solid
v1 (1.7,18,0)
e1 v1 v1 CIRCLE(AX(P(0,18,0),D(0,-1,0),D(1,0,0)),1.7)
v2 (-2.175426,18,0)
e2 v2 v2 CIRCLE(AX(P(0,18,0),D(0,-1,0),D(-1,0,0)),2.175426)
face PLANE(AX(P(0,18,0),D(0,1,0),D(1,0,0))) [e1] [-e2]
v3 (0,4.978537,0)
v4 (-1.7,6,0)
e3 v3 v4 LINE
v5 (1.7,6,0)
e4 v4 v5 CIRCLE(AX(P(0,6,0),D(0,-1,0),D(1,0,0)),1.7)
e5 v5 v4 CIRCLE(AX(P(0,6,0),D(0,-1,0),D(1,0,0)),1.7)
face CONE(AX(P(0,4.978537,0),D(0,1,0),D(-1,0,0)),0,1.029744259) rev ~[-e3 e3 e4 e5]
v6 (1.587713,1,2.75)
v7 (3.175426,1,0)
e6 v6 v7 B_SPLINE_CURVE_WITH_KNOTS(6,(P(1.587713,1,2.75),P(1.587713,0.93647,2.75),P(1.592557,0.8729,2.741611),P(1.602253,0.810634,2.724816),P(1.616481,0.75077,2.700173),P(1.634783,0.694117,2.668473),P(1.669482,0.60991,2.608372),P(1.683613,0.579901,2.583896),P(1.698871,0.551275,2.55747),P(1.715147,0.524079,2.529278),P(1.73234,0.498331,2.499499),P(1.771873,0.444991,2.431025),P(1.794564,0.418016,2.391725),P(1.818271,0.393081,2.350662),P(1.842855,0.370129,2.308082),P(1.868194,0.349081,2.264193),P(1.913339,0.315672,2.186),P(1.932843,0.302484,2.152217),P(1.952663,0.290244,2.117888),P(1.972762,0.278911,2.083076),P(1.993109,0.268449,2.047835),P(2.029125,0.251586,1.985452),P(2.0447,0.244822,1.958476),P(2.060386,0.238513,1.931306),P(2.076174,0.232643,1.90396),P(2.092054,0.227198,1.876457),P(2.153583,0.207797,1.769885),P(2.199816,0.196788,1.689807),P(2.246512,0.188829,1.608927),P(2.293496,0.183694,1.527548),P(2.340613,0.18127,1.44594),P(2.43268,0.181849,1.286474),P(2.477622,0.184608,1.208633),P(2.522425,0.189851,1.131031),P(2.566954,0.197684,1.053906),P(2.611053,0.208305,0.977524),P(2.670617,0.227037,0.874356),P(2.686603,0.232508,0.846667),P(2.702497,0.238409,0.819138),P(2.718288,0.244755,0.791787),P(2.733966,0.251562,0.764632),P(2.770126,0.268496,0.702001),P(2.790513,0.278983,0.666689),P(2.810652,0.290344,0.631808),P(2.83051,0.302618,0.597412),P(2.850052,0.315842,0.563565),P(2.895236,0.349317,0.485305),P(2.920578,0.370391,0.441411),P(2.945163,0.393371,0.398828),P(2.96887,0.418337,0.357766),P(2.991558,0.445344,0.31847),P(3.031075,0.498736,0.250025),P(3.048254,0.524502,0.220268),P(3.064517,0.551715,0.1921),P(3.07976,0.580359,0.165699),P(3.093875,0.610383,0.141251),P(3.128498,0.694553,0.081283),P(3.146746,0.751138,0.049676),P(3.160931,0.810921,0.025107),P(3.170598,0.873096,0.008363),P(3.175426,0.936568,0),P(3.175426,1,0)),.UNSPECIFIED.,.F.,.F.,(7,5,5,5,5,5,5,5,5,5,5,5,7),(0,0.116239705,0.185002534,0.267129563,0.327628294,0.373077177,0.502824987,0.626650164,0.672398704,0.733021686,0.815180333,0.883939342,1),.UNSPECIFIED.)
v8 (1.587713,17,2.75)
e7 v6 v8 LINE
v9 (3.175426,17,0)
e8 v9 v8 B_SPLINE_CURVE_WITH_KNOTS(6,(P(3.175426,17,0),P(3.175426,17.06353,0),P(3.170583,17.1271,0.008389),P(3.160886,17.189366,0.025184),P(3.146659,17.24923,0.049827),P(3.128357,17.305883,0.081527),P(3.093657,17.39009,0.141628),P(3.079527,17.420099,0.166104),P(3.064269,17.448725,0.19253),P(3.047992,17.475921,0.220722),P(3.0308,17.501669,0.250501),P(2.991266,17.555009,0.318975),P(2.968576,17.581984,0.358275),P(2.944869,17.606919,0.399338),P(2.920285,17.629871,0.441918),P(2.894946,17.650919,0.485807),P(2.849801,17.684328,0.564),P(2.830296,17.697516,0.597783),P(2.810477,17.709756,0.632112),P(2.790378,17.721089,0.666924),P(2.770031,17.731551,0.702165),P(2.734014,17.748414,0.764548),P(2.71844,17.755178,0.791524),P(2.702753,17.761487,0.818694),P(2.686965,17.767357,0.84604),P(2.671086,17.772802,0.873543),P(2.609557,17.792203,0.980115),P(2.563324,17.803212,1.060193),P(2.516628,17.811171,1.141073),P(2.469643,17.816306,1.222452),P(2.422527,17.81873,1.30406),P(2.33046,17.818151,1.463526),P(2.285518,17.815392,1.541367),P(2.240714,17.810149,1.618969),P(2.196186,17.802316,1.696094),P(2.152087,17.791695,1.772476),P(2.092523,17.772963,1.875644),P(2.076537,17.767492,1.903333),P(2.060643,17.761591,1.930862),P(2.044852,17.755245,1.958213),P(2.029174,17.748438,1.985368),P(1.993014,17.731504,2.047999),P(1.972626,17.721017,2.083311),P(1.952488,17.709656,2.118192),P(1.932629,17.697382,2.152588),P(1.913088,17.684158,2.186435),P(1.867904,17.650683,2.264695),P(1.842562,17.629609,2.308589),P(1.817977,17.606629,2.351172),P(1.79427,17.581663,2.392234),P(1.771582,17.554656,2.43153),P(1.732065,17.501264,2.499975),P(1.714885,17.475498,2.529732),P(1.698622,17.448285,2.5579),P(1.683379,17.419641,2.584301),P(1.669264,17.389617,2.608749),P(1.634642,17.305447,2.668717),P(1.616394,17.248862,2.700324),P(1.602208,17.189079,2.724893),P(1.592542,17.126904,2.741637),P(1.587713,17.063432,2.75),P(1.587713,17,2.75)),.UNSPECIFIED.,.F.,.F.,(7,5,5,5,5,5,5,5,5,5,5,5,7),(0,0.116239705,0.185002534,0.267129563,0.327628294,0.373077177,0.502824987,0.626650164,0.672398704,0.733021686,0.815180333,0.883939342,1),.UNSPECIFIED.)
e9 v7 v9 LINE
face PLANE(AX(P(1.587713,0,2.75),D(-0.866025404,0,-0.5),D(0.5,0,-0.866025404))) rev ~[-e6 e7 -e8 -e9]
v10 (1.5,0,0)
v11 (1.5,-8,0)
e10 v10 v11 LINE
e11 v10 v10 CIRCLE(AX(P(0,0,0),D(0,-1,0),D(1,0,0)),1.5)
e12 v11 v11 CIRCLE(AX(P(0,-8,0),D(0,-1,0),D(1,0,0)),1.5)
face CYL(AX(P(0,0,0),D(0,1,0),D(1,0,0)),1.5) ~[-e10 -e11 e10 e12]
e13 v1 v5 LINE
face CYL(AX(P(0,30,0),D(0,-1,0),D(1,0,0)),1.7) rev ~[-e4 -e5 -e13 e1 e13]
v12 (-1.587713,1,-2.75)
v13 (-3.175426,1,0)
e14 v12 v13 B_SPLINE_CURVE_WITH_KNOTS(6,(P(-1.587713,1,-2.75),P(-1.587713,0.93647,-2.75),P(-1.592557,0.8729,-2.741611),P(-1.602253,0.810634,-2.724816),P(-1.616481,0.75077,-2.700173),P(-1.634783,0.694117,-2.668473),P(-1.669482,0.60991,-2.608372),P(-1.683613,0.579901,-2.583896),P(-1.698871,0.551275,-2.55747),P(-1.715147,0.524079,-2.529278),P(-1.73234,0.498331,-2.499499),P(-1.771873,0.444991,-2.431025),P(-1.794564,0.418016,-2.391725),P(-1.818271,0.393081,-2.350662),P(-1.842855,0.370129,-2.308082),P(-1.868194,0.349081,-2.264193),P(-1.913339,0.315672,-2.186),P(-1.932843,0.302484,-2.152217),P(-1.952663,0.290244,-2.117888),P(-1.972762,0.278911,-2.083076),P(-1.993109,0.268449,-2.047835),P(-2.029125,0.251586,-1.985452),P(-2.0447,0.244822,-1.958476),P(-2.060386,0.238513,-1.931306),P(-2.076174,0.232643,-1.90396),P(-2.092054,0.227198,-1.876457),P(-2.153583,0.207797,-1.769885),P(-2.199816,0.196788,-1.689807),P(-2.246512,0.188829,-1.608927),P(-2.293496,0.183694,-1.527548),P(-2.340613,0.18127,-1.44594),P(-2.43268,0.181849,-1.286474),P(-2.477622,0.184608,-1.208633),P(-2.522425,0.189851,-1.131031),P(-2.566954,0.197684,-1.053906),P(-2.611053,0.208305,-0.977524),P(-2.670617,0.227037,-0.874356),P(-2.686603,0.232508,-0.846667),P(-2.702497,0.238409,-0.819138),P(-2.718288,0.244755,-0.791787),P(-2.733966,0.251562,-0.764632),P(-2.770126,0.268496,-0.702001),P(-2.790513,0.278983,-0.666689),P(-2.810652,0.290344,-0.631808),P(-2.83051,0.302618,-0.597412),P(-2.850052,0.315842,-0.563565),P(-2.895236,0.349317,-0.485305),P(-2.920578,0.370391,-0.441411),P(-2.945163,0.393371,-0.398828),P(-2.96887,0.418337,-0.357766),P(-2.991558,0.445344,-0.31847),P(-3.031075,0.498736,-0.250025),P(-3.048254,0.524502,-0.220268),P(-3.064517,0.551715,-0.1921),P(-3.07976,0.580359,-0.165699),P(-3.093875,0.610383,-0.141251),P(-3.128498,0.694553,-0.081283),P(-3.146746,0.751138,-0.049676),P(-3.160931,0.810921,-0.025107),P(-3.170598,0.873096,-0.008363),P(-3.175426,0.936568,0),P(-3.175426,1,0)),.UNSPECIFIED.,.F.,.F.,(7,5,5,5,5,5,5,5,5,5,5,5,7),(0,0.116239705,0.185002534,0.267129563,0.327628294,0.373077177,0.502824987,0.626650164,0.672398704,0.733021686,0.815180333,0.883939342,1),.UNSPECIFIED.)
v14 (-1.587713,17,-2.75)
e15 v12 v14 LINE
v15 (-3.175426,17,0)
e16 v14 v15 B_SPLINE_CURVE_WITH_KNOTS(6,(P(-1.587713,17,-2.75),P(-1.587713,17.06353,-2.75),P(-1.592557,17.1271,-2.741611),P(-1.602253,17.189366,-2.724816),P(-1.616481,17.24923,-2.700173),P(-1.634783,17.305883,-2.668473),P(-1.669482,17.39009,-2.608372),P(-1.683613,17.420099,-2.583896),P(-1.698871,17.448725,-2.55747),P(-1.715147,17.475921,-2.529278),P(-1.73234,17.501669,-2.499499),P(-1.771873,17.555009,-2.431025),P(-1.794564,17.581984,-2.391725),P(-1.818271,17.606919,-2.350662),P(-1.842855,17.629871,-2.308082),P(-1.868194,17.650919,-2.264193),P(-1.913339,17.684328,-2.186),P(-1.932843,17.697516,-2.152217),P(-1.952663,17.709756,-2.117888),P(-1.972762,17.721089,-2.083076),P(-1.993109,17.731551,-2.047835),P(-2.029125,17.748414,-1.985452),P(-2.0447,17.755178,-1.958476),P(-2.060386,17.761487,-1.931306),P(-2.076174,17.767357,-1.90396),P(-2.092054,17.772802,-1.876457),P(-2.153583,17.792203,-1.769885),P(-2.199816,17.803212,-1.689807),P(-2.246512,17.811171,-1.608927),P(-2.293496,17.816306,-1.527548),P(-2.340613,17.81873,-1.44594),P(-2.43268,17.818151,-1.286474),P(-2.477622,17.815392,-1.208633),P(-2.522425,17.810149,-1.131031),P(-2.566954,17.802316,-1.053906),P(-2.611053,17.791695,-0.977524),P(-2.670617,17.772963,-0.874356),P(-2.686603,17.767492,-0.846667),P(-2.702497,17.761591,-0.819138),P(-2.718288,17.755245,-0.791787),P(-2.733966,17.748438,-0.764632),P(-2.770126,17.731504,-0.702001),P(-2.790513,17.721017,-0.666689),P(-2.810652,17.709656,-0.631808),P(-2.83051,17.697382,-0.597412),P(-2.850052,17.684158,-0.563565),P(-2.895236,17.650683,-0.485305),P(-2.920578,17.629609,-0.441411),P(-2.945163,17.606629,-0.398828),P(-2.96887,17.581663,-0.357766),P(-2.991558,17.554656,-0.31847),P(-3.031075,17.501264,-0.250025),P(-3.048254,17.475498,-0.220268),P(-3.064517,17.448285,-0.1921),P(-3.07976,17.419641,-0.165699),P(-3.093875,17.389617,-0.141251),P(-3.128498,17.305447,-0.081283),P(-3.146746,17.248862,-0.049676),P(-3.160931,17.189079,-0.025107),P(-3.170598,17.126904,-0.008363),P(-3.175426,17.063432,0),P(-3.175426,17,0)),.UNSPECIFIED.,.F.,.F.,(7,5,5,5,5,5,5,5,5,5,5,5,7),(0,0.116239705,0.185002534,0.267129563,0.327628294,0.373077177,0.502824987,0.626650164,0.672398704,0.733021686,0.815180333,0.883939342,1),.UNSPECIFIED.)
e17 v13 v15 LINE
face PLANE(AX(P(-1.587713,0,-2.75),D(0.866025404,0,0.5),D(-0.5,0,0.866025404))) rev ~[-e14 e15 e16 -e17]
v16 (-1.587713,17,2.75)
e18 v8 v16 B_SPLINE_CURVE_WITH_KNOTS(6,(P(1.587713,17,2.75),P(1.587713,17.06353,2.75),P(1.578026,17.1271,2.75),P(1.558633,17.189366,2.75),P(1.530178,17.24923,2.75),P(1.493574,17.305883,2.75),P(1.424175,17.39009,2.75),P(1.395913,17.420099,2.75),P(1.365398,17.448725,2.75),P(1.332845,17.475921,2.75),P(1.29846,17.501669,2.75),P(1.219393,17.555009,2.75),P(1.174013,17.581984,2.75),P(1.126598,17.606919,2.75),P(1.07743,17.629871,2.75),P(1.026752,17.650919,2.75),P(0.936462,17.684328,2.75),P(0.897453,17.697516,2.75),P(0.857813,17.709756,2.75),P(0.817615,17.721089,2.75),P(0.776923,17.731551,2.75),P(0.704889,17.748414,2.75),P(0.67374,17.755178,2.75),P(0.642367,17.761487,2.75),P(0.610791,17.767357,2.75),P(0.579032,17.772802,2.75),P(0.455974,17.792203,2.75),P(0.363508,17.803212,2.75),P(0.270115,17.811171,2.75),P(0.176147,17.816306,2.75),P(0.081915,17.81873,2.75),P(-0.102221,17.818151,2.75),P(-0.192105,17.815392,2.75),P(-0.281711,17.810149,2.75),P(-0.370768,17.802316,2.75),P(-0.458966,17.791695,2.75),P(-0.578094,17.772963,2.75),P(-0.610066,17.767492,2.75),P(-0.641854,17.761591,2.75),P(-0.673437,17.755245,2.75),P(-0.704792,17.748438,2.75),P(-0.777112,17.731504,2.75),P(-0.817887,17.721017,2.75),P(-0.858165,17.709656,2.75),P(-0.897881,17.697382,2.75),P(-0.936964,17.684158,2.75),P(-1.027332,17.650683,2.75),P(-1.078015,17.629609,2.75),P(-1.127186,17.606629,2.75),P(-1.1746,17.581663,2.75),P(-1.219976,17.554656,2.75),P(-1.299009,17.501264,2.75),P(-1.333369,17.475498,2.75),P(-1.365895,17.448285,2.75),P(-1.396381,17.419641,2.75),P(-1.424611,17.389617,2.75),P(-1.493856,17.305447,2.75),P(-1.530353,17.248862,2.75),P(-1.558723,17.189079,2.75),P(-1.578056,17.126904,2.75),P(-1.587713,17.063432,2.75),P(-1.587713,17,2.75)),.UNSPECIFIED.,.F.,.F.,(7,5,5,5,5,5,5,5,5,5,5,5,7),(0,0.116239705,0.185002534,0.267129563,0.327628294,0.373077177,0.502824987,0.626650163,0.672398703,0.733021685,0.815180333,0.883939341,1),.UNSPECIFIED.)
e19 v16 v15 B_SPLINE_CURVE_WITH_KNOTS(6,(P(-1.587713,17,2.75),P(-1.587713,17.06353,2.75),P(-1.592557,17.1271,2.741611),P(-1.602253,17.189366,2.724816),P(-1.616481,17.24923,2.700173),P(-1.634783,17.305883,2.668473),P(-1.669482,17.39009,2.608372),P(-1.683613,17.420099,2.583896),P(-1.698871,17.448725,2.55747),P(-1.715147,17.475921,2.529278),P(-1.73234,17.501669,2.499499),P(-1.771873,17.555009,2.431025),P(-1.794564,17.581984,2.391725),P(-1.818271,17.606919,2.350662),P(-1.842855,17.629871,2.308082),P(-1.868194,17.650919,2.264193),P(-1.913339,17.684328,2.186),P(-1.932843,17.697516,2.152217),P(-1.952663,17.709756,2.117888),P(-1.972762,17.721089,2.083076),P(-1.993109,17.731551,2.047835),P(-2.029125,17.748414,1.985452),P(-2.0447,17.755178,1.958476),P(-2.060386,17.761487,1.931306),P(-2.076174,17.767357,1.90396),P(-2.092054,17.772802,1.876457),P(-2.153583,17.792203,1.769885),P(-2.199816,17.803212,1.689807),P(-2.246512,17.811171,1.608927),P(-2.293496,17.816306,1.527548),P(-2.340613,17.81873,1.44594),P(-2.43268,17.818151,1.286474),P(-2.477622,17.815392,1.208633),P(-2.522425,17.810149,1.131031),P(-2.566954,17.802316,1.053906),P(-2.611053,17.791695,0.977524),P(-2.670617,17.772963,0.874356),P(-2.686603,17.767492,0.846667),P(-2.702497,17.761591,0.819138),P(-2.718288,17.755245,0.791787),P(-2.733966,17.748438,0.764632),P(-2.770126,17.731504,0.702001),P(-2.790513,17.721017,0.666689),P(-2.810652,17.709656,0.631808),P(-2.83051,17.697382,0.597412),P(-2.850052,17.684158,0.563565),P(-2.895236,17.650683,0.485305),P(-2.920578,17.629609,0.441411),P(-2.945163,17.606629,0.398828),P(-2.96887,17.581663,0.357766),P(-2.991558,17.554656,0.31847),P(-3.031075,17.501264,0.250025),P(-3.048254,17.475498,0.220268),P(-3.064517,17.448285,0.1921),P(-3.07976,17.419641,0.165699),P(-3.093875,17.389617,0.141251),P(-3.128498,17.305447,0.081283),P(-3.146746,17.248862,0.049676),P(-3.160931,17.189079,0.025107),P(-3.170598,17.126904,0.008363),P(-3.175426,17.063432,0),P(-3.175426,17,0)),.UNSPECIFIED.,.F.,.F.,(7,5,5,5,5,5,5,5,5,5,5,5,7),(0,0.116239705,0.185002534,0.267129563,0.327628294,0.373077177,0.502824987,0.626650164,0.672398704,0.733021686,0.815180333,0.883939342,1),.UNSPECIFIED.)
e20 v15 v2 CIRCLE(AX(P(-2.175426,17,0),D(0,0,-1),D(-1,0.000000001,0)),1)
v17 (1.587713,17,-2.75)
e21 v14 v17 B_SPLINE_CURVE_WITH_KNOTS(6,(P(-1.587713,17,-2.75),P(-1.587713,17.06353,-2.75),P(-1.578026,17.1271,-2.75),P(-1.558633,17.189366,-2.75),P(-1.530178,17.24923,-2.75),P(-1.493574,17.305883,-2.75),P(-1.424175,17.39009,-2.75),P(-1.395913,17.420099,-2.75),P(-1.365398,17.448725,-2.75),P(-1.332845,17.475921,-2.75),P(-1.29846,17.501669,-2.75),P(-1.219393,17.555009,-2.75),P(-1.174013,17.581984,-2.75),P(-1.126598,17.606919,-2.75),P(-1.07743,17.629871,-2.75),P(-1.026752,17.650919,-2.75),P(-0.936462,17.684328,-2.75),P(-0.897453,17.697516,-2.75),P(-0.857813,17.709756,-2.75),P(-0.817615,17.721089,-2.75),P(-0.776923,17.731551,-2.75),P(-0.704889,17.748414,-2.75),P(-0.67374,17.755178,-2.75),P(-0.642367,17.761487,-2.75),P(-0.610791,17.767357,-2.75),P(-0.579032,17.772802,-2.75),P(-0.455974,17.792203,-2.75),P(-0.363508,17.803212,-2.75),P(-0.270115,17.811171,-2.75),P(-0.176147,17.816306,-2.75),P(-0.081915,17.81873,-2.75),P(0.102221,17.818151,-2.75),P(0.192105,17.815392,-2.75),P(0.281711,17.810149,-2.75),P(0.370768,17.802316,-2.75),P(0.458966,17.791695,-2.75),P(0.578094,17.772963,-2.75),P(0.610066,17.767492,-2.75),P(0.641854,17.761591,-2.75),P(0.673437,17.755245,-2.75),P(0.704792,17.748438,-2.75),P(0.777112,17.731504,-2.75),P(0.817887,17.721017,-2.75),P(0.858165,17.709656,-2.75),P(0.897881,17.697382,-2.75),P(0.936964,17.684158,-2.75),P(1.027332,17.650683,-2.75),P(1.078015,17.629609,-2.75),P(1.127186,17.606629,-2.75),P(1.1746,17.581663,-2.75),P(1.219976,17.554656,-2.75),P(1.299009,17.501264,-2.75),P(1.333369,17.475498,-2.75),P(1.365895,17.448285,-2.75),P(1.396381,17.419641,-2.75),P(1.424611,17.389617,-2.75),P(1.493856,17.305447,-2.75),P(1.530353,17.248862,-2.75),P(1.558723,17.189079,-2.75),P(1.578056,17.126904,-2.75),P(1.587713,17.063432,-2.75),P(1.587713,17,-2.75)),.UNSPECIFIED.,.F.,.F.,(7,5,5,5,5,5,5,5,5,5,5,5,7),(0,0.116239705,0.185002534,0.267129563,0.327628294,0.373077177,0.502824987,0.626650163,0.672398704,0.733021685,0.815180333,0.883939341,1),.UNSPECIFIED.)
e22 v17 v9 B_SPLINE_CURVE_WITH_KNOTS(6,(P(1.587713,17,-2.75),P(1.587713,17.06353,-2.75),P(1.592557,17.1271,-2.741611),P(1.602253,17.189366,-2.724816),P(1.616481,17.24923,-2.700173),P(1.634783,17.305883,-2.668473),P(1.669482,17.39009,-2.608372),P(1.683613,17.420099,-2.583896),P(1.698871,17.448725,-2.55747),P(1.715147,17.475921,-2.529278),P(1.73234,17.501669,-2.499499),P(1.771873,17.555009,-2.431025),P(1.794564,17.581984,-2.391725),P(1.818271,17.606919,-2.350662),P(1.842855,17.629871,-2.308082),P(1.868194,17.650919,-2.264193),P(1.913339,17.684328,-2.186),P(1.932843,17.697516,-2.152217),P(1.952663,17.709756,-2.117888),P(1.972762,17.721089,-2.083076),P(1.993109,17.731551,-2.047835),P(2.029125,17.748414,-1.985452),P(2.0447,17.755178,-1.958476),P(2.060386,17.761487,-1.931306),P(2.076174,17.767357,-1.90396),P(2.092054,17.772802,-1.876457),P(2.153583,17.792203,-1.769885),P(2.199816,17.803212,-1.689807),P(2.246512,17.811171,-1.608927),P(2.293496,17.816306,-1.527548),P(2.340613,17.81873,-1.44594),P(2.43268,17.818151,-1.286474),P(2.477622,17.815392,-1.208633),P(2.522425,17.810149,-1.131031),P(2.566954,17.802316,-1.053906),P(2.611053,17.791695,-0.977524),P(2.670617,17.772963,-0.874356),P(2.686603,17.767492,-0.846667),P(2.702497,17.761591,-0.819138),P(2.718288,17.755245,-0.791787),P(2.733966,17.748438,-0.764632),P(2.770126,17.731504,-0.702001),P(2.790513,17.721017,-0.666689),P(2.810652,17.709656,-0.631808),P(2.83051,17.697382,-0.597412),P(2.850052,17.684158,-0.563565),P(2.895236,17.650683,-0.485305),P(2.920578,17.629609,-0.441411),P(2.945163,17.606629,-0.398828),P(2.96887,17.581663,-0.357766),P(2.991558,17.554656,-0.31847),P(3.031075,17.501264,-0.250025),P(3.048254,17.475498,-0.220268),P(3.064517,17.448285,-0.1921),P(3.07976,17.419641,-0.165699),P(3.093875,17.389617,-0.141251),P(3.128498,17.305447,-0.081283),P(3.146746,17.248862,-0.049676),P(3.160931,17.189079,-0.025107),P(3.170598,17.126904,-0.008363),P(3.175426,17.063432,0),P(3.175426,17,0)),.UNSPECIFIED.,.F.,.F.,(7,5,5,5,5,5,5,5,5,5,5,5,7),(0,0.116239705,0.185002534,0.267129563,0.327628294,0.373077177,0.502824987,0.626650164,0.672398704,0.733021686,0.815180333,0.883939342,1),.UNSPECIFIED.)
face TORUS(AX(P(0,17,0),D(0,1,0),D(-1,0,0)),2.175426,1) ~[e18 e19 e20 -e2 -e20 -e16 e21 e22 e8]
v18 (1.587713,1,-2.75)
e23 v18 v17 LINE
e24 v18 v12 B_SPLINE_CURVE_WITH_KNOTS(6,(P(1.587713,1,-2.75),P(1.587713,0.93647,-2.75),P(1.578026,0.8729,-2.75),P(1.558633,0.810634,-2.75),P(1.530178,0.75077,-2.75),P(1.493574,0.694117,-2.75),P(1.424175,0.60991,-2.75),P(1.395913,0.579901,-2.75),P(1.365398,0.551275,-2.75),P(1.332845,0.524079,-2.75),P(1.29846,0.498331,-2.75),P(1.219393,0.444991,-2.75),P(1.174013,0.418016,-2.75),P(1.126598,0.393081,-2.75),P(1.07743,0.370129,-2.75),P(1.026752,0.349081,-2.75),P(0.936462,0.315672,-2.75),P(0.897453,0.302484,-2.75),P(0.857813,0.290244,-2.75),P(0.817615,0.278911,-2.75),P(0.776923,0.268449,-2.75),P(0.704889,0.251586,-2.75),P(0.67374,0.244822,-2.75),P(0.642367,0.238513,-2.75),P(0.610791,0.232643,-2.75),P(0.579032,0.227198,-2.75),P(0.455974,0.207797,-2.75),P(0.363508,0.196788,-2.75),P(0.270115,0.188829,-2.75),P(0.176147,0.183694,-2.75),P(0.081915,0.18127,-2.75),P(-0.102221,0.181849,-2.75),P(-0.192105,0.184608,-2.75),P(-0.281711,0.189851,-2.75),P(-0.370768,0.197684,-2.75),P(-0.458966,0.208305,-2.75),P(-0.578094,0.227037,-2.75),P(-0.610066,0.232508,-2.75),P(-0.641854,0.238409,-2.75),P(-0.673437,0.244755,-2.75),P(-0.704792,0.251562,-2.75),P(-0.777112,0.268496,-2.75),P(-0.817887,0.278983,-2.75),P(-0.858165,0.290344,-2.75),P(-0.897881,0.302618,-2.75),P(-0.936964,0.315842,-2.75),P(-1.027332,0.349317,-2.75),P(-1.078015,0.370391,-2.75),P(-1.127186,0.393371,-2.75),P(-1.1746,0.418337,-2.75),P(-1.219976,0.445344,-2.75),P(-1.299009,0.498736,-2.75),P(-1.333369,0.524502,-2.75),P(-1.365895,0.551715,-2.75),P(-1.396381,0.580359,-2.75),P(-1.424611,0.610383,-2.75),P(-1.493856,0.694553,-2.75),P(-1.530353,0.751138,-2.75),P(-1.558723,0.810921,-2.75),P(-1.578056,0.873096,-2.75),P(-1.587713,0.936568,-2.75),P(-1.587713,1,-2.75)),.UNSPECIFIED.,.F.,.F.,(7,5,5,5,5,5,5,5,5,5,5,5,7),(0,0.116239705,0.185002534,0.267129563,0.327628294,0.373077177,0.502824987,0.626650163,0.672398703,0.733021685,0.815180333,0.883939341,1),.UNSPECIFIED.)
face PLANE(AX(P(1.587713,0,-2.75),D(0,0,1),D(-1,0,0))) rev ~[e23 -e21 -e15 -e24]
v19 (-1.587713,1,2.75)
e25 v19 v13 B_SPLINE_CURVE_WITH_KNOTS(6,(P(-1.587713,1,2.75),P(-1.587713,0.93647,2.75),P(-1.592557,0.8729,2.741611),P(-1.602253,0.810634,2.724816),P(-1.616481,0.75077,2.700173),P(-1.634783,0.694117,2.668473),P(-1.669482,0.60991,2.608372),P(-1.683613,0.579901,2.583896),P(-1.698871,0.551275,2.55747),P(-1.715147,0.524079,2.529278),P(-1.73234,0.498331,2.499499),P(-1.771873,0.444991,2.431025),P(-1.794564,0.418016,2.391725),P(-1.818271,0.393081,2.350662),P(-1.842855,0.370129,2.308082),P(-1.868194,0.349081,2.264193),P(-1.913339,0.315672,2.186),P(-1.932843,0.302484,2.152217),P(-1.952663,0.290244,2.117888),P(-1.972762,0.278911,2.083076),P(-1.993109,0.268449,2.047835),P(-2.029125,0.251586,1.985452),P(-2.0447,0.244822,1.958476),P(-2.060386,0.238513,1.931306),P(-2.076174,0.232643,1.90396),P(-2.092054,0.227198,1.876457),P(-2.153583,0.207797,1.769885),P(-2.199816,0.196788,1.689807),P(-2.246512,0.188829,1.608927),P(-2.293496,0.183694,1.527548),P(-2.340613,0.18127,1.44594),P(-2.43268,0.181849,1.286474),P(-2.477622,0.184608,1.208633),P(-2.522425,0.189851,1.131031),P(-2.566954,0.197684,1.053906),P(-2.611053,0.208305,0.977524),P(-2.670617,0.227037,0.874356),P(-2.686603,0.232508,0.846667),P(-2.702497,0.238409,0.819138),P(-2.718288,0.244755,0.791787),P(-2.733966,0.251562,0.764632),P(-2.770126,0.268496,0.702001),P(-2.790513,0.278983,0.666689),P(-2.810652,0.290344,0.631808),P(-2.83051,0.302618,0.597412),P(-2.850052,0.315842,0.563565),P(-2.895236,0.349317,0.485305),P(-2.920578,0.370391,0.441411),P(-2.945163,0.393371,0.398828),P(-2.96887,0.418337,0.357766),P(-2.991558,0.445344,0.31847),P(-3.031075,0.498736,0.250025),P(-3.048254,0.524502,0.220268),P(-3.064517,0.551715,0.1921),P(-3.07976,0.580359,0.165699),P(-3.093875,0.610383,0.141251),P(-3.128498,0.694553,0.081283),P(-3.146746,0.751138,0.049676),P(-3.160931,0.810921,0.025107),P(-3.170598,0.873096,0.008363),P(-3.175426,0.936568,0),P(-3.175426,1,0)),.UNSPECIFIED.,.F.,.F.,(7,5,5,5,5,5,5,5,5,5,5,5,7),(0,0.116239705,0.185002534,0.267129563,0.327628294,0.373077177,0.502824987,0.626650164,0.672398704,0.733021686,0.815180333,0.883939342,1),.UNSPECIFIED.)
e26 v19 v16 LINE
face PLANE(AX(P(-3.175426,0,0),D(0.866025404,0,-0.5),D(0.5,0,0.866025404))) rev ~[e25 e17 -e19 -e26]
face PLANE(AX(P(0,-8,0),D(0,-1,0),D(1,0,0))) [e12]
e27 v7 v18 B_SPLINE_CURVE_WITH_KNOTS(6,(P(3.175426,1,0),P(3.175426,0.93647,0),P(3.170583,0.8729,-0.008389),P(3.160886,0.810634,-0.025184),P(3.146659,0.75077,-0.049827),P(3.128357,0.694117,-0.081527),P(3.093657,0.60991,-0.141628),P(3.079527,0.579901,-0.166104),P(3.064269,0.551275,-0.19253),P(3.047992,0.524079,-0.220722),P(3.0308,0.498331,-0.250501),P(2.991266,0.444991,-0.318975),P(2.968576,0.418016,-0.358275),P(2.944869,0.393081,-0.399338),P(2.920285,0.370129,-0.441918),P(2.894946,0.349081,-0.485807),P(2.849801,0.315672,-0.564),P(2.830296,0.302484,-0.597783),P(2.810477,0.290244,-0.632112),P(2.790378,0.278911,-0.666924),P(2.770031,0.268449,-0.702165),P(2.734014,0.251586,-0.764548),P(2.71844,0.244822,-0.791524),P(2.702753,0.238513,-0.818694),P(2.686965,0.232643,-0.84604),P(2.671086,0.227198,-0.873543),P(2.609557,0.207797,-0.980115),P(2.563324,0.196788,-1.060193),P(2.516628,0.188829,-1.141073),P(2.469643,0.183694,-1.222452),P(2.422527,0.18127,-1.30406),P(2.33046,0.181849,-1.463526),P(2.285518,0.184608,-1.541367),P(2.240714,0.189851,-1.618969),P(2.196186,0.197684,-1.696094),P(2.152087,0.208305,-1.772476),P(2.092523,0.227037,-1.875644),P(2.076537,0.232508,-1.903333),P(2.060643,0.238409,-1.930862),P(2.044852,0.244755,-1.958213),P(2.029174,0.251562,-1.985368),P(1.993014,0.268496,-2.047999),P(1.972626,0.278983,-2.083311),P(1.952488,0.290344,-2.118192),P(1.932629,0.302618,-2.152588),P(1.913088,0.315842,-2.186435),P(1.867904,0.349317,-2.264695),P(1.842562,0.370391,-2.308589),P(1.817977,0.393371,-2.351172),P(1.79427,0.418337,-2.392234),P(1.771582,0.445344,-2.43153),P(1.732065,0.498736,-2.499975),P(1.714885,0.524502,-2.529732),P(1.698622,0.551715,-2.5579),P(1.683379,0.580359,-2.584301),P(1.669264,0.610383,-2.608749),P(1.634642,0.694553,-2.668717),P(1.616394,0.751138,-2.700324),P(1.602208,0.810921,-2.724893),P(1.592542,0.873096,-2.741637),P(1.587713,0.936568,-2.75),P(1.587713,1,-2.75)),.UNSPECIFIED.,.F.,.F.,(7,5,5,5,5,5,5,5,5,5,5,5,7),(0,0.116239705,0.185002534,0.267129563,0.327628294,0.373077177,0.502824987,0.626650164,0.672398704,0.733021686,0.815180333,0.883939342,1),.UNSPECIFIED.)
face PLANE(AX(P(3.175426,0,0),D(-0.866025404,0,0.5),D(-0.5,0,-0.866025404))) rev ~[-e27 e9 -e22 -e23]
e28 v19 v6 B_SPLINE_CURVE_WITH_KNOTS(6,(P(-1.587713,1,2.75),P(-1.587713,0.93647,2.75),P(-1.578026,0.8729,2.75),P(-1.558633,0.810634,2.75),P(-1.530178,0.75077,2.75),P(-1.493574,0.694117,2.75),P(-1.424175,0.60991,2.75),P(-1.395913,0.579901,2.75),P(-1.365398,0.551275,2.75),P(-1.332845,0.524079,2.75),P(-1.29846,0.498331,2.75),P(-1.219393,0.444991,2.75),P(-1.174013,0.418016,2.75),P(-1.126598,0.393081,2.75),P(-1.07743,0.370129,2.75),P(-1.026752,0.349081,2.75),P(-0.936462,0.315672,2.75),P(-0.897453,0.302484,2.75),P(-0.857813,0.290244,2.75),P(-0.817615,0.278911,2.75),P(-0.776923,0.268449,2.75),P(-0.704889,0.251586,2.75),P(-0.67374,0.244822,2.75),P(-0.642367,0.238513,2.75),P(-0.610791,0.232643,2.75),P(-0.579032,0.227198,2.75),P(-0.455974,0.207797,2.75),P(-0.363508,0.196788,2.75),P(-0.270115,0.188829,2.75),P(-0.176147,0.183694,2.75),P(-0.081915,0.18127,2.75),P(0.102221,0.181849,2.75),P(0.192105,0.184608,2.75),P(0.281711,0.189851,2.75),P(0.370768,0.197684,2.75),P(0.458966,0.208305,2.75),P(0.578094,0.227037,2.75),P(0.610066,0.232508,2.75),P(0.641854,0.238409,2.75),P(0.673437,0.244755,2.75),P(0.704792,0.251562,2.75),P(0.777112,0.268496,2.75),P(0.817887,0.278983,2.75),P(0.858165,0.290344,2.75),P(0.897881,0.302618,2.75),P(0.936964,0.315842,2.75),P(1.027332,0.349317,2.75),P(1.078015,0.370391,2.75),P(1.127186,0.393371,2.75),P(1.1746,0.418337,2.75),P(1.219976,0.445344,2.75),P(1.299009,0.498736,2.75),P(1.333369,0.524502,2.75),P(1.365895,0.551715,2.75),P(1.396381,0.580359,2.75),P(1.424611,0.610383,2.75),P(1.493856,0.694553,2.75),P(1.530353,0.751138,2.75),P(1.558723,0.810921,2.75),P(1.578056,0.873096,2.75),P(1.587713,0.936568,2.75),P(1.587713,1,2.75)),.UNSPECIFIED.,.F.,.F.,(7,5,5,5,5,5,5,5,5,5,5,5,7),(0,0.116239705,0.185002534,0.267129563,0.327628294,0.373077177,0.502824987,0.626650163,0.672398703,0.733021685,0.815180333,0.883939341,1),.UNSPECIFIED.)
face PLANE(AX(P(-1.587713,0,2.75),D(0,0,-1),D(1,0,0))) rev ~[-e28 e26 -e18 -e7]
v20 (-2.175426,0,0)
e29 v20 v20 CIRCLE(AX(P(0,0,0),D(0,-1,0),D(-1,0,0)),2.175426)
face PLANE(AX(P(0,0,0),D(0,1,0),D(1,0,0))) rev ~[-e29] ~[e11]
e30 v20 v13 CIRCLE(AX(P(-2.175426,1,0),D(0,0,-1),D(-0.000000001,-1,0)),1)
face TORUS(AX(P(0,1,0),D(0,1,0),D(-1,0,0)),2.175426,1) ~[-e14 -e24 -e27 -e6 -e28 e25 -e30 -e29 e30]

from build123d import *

# Parameters (mm, degrees)
BOSS_EXTRUDE1_DEPTH      = 18
M3_CLEARANCE_HOLE1_D     = 3.4
M3_CLEARANCE_HOLE1_DEPTH = 12
M3_CLEARANCE_HOLE1_TIP   = 1.021463052
SKETCH5_R                = 1.5
BOSS_EXTRUDE2_DEPTH      = 8


with BuildPart() as part:
    # Sketch1 → Boss-Extrude1 (new body)
    with BuildSketch(Plane(origin=(0, 0, 0), x_dir=(1, 0, 0), z_dir=(0, 1, 0))):
        Polygon((3.175426481, 0), (1.58771324, 2.75), (-1.58771324, 2.75), (-3.175426481, 0), (-1.58771324, -2.75), (1.58771324, -2.75), align=None)
    extrude(amount=BOSS_EXTRUDE1_DEPTH)

    # M3 Clearance Hole1
    with Locations(Plane(origin=(0, 18, 0), x_dir=(-1, 0, 0), z_dir=(0, 1, 0))):
        with Locations((0, 0)):
            Hole(M3_CLEARANCE_HOLE1_D / 2, depth=M3_CLEARANCE_HOLE1_DEPTH)
            with Locations((0, 0, -(M3_CLEARANCE_HOLE1_DEPTH + M3_CLEARANCE_HOLE1_TIP / 2))):  # 118° drill point
                Cone(0, M3_CLEARANCE_HOLE1_D / 2, M3_CLEARANCE_HOLE1_TIP, mode=Mode.SUBTRACT)

    # Sketch4 → Cut-Revolve1 (revolve, cut)
    with BuildSketch(Plane.XY):
        with BuildLine():
            Line((-2.175426481, 18), (-3.175426481, 18))
            Line((-3.175426481, 18), (-3.175426481, 17))
            ThreePointArc((-3.175426481, 17), (-2.882533262, 17.707106781), (-2.175426481, 18))
        make_face()
        with BuildLine():
            Line((-3.175426481, 1), (-3.175426481, 0))
            Line((-3.175426481, 0), (-2.175426481, 0))
            ThreePointArc((-2.175426481, 0), (-2.882533262, 0.292893219), (-3.175426481, 1))
        make_face()
    revolve(axis=Axis((0, 18, 0), (0, -1, 0)), mode=Mode.SUBTRACT)

    # Sketch5 → Boss-Extrude2 (add)
    with BuildSketch(Plane.XZ):
        Circle(SKETCH5_R)
    extrude(amount=BOSS_EXTRUDE2_DEPTH)


solid = part.part
